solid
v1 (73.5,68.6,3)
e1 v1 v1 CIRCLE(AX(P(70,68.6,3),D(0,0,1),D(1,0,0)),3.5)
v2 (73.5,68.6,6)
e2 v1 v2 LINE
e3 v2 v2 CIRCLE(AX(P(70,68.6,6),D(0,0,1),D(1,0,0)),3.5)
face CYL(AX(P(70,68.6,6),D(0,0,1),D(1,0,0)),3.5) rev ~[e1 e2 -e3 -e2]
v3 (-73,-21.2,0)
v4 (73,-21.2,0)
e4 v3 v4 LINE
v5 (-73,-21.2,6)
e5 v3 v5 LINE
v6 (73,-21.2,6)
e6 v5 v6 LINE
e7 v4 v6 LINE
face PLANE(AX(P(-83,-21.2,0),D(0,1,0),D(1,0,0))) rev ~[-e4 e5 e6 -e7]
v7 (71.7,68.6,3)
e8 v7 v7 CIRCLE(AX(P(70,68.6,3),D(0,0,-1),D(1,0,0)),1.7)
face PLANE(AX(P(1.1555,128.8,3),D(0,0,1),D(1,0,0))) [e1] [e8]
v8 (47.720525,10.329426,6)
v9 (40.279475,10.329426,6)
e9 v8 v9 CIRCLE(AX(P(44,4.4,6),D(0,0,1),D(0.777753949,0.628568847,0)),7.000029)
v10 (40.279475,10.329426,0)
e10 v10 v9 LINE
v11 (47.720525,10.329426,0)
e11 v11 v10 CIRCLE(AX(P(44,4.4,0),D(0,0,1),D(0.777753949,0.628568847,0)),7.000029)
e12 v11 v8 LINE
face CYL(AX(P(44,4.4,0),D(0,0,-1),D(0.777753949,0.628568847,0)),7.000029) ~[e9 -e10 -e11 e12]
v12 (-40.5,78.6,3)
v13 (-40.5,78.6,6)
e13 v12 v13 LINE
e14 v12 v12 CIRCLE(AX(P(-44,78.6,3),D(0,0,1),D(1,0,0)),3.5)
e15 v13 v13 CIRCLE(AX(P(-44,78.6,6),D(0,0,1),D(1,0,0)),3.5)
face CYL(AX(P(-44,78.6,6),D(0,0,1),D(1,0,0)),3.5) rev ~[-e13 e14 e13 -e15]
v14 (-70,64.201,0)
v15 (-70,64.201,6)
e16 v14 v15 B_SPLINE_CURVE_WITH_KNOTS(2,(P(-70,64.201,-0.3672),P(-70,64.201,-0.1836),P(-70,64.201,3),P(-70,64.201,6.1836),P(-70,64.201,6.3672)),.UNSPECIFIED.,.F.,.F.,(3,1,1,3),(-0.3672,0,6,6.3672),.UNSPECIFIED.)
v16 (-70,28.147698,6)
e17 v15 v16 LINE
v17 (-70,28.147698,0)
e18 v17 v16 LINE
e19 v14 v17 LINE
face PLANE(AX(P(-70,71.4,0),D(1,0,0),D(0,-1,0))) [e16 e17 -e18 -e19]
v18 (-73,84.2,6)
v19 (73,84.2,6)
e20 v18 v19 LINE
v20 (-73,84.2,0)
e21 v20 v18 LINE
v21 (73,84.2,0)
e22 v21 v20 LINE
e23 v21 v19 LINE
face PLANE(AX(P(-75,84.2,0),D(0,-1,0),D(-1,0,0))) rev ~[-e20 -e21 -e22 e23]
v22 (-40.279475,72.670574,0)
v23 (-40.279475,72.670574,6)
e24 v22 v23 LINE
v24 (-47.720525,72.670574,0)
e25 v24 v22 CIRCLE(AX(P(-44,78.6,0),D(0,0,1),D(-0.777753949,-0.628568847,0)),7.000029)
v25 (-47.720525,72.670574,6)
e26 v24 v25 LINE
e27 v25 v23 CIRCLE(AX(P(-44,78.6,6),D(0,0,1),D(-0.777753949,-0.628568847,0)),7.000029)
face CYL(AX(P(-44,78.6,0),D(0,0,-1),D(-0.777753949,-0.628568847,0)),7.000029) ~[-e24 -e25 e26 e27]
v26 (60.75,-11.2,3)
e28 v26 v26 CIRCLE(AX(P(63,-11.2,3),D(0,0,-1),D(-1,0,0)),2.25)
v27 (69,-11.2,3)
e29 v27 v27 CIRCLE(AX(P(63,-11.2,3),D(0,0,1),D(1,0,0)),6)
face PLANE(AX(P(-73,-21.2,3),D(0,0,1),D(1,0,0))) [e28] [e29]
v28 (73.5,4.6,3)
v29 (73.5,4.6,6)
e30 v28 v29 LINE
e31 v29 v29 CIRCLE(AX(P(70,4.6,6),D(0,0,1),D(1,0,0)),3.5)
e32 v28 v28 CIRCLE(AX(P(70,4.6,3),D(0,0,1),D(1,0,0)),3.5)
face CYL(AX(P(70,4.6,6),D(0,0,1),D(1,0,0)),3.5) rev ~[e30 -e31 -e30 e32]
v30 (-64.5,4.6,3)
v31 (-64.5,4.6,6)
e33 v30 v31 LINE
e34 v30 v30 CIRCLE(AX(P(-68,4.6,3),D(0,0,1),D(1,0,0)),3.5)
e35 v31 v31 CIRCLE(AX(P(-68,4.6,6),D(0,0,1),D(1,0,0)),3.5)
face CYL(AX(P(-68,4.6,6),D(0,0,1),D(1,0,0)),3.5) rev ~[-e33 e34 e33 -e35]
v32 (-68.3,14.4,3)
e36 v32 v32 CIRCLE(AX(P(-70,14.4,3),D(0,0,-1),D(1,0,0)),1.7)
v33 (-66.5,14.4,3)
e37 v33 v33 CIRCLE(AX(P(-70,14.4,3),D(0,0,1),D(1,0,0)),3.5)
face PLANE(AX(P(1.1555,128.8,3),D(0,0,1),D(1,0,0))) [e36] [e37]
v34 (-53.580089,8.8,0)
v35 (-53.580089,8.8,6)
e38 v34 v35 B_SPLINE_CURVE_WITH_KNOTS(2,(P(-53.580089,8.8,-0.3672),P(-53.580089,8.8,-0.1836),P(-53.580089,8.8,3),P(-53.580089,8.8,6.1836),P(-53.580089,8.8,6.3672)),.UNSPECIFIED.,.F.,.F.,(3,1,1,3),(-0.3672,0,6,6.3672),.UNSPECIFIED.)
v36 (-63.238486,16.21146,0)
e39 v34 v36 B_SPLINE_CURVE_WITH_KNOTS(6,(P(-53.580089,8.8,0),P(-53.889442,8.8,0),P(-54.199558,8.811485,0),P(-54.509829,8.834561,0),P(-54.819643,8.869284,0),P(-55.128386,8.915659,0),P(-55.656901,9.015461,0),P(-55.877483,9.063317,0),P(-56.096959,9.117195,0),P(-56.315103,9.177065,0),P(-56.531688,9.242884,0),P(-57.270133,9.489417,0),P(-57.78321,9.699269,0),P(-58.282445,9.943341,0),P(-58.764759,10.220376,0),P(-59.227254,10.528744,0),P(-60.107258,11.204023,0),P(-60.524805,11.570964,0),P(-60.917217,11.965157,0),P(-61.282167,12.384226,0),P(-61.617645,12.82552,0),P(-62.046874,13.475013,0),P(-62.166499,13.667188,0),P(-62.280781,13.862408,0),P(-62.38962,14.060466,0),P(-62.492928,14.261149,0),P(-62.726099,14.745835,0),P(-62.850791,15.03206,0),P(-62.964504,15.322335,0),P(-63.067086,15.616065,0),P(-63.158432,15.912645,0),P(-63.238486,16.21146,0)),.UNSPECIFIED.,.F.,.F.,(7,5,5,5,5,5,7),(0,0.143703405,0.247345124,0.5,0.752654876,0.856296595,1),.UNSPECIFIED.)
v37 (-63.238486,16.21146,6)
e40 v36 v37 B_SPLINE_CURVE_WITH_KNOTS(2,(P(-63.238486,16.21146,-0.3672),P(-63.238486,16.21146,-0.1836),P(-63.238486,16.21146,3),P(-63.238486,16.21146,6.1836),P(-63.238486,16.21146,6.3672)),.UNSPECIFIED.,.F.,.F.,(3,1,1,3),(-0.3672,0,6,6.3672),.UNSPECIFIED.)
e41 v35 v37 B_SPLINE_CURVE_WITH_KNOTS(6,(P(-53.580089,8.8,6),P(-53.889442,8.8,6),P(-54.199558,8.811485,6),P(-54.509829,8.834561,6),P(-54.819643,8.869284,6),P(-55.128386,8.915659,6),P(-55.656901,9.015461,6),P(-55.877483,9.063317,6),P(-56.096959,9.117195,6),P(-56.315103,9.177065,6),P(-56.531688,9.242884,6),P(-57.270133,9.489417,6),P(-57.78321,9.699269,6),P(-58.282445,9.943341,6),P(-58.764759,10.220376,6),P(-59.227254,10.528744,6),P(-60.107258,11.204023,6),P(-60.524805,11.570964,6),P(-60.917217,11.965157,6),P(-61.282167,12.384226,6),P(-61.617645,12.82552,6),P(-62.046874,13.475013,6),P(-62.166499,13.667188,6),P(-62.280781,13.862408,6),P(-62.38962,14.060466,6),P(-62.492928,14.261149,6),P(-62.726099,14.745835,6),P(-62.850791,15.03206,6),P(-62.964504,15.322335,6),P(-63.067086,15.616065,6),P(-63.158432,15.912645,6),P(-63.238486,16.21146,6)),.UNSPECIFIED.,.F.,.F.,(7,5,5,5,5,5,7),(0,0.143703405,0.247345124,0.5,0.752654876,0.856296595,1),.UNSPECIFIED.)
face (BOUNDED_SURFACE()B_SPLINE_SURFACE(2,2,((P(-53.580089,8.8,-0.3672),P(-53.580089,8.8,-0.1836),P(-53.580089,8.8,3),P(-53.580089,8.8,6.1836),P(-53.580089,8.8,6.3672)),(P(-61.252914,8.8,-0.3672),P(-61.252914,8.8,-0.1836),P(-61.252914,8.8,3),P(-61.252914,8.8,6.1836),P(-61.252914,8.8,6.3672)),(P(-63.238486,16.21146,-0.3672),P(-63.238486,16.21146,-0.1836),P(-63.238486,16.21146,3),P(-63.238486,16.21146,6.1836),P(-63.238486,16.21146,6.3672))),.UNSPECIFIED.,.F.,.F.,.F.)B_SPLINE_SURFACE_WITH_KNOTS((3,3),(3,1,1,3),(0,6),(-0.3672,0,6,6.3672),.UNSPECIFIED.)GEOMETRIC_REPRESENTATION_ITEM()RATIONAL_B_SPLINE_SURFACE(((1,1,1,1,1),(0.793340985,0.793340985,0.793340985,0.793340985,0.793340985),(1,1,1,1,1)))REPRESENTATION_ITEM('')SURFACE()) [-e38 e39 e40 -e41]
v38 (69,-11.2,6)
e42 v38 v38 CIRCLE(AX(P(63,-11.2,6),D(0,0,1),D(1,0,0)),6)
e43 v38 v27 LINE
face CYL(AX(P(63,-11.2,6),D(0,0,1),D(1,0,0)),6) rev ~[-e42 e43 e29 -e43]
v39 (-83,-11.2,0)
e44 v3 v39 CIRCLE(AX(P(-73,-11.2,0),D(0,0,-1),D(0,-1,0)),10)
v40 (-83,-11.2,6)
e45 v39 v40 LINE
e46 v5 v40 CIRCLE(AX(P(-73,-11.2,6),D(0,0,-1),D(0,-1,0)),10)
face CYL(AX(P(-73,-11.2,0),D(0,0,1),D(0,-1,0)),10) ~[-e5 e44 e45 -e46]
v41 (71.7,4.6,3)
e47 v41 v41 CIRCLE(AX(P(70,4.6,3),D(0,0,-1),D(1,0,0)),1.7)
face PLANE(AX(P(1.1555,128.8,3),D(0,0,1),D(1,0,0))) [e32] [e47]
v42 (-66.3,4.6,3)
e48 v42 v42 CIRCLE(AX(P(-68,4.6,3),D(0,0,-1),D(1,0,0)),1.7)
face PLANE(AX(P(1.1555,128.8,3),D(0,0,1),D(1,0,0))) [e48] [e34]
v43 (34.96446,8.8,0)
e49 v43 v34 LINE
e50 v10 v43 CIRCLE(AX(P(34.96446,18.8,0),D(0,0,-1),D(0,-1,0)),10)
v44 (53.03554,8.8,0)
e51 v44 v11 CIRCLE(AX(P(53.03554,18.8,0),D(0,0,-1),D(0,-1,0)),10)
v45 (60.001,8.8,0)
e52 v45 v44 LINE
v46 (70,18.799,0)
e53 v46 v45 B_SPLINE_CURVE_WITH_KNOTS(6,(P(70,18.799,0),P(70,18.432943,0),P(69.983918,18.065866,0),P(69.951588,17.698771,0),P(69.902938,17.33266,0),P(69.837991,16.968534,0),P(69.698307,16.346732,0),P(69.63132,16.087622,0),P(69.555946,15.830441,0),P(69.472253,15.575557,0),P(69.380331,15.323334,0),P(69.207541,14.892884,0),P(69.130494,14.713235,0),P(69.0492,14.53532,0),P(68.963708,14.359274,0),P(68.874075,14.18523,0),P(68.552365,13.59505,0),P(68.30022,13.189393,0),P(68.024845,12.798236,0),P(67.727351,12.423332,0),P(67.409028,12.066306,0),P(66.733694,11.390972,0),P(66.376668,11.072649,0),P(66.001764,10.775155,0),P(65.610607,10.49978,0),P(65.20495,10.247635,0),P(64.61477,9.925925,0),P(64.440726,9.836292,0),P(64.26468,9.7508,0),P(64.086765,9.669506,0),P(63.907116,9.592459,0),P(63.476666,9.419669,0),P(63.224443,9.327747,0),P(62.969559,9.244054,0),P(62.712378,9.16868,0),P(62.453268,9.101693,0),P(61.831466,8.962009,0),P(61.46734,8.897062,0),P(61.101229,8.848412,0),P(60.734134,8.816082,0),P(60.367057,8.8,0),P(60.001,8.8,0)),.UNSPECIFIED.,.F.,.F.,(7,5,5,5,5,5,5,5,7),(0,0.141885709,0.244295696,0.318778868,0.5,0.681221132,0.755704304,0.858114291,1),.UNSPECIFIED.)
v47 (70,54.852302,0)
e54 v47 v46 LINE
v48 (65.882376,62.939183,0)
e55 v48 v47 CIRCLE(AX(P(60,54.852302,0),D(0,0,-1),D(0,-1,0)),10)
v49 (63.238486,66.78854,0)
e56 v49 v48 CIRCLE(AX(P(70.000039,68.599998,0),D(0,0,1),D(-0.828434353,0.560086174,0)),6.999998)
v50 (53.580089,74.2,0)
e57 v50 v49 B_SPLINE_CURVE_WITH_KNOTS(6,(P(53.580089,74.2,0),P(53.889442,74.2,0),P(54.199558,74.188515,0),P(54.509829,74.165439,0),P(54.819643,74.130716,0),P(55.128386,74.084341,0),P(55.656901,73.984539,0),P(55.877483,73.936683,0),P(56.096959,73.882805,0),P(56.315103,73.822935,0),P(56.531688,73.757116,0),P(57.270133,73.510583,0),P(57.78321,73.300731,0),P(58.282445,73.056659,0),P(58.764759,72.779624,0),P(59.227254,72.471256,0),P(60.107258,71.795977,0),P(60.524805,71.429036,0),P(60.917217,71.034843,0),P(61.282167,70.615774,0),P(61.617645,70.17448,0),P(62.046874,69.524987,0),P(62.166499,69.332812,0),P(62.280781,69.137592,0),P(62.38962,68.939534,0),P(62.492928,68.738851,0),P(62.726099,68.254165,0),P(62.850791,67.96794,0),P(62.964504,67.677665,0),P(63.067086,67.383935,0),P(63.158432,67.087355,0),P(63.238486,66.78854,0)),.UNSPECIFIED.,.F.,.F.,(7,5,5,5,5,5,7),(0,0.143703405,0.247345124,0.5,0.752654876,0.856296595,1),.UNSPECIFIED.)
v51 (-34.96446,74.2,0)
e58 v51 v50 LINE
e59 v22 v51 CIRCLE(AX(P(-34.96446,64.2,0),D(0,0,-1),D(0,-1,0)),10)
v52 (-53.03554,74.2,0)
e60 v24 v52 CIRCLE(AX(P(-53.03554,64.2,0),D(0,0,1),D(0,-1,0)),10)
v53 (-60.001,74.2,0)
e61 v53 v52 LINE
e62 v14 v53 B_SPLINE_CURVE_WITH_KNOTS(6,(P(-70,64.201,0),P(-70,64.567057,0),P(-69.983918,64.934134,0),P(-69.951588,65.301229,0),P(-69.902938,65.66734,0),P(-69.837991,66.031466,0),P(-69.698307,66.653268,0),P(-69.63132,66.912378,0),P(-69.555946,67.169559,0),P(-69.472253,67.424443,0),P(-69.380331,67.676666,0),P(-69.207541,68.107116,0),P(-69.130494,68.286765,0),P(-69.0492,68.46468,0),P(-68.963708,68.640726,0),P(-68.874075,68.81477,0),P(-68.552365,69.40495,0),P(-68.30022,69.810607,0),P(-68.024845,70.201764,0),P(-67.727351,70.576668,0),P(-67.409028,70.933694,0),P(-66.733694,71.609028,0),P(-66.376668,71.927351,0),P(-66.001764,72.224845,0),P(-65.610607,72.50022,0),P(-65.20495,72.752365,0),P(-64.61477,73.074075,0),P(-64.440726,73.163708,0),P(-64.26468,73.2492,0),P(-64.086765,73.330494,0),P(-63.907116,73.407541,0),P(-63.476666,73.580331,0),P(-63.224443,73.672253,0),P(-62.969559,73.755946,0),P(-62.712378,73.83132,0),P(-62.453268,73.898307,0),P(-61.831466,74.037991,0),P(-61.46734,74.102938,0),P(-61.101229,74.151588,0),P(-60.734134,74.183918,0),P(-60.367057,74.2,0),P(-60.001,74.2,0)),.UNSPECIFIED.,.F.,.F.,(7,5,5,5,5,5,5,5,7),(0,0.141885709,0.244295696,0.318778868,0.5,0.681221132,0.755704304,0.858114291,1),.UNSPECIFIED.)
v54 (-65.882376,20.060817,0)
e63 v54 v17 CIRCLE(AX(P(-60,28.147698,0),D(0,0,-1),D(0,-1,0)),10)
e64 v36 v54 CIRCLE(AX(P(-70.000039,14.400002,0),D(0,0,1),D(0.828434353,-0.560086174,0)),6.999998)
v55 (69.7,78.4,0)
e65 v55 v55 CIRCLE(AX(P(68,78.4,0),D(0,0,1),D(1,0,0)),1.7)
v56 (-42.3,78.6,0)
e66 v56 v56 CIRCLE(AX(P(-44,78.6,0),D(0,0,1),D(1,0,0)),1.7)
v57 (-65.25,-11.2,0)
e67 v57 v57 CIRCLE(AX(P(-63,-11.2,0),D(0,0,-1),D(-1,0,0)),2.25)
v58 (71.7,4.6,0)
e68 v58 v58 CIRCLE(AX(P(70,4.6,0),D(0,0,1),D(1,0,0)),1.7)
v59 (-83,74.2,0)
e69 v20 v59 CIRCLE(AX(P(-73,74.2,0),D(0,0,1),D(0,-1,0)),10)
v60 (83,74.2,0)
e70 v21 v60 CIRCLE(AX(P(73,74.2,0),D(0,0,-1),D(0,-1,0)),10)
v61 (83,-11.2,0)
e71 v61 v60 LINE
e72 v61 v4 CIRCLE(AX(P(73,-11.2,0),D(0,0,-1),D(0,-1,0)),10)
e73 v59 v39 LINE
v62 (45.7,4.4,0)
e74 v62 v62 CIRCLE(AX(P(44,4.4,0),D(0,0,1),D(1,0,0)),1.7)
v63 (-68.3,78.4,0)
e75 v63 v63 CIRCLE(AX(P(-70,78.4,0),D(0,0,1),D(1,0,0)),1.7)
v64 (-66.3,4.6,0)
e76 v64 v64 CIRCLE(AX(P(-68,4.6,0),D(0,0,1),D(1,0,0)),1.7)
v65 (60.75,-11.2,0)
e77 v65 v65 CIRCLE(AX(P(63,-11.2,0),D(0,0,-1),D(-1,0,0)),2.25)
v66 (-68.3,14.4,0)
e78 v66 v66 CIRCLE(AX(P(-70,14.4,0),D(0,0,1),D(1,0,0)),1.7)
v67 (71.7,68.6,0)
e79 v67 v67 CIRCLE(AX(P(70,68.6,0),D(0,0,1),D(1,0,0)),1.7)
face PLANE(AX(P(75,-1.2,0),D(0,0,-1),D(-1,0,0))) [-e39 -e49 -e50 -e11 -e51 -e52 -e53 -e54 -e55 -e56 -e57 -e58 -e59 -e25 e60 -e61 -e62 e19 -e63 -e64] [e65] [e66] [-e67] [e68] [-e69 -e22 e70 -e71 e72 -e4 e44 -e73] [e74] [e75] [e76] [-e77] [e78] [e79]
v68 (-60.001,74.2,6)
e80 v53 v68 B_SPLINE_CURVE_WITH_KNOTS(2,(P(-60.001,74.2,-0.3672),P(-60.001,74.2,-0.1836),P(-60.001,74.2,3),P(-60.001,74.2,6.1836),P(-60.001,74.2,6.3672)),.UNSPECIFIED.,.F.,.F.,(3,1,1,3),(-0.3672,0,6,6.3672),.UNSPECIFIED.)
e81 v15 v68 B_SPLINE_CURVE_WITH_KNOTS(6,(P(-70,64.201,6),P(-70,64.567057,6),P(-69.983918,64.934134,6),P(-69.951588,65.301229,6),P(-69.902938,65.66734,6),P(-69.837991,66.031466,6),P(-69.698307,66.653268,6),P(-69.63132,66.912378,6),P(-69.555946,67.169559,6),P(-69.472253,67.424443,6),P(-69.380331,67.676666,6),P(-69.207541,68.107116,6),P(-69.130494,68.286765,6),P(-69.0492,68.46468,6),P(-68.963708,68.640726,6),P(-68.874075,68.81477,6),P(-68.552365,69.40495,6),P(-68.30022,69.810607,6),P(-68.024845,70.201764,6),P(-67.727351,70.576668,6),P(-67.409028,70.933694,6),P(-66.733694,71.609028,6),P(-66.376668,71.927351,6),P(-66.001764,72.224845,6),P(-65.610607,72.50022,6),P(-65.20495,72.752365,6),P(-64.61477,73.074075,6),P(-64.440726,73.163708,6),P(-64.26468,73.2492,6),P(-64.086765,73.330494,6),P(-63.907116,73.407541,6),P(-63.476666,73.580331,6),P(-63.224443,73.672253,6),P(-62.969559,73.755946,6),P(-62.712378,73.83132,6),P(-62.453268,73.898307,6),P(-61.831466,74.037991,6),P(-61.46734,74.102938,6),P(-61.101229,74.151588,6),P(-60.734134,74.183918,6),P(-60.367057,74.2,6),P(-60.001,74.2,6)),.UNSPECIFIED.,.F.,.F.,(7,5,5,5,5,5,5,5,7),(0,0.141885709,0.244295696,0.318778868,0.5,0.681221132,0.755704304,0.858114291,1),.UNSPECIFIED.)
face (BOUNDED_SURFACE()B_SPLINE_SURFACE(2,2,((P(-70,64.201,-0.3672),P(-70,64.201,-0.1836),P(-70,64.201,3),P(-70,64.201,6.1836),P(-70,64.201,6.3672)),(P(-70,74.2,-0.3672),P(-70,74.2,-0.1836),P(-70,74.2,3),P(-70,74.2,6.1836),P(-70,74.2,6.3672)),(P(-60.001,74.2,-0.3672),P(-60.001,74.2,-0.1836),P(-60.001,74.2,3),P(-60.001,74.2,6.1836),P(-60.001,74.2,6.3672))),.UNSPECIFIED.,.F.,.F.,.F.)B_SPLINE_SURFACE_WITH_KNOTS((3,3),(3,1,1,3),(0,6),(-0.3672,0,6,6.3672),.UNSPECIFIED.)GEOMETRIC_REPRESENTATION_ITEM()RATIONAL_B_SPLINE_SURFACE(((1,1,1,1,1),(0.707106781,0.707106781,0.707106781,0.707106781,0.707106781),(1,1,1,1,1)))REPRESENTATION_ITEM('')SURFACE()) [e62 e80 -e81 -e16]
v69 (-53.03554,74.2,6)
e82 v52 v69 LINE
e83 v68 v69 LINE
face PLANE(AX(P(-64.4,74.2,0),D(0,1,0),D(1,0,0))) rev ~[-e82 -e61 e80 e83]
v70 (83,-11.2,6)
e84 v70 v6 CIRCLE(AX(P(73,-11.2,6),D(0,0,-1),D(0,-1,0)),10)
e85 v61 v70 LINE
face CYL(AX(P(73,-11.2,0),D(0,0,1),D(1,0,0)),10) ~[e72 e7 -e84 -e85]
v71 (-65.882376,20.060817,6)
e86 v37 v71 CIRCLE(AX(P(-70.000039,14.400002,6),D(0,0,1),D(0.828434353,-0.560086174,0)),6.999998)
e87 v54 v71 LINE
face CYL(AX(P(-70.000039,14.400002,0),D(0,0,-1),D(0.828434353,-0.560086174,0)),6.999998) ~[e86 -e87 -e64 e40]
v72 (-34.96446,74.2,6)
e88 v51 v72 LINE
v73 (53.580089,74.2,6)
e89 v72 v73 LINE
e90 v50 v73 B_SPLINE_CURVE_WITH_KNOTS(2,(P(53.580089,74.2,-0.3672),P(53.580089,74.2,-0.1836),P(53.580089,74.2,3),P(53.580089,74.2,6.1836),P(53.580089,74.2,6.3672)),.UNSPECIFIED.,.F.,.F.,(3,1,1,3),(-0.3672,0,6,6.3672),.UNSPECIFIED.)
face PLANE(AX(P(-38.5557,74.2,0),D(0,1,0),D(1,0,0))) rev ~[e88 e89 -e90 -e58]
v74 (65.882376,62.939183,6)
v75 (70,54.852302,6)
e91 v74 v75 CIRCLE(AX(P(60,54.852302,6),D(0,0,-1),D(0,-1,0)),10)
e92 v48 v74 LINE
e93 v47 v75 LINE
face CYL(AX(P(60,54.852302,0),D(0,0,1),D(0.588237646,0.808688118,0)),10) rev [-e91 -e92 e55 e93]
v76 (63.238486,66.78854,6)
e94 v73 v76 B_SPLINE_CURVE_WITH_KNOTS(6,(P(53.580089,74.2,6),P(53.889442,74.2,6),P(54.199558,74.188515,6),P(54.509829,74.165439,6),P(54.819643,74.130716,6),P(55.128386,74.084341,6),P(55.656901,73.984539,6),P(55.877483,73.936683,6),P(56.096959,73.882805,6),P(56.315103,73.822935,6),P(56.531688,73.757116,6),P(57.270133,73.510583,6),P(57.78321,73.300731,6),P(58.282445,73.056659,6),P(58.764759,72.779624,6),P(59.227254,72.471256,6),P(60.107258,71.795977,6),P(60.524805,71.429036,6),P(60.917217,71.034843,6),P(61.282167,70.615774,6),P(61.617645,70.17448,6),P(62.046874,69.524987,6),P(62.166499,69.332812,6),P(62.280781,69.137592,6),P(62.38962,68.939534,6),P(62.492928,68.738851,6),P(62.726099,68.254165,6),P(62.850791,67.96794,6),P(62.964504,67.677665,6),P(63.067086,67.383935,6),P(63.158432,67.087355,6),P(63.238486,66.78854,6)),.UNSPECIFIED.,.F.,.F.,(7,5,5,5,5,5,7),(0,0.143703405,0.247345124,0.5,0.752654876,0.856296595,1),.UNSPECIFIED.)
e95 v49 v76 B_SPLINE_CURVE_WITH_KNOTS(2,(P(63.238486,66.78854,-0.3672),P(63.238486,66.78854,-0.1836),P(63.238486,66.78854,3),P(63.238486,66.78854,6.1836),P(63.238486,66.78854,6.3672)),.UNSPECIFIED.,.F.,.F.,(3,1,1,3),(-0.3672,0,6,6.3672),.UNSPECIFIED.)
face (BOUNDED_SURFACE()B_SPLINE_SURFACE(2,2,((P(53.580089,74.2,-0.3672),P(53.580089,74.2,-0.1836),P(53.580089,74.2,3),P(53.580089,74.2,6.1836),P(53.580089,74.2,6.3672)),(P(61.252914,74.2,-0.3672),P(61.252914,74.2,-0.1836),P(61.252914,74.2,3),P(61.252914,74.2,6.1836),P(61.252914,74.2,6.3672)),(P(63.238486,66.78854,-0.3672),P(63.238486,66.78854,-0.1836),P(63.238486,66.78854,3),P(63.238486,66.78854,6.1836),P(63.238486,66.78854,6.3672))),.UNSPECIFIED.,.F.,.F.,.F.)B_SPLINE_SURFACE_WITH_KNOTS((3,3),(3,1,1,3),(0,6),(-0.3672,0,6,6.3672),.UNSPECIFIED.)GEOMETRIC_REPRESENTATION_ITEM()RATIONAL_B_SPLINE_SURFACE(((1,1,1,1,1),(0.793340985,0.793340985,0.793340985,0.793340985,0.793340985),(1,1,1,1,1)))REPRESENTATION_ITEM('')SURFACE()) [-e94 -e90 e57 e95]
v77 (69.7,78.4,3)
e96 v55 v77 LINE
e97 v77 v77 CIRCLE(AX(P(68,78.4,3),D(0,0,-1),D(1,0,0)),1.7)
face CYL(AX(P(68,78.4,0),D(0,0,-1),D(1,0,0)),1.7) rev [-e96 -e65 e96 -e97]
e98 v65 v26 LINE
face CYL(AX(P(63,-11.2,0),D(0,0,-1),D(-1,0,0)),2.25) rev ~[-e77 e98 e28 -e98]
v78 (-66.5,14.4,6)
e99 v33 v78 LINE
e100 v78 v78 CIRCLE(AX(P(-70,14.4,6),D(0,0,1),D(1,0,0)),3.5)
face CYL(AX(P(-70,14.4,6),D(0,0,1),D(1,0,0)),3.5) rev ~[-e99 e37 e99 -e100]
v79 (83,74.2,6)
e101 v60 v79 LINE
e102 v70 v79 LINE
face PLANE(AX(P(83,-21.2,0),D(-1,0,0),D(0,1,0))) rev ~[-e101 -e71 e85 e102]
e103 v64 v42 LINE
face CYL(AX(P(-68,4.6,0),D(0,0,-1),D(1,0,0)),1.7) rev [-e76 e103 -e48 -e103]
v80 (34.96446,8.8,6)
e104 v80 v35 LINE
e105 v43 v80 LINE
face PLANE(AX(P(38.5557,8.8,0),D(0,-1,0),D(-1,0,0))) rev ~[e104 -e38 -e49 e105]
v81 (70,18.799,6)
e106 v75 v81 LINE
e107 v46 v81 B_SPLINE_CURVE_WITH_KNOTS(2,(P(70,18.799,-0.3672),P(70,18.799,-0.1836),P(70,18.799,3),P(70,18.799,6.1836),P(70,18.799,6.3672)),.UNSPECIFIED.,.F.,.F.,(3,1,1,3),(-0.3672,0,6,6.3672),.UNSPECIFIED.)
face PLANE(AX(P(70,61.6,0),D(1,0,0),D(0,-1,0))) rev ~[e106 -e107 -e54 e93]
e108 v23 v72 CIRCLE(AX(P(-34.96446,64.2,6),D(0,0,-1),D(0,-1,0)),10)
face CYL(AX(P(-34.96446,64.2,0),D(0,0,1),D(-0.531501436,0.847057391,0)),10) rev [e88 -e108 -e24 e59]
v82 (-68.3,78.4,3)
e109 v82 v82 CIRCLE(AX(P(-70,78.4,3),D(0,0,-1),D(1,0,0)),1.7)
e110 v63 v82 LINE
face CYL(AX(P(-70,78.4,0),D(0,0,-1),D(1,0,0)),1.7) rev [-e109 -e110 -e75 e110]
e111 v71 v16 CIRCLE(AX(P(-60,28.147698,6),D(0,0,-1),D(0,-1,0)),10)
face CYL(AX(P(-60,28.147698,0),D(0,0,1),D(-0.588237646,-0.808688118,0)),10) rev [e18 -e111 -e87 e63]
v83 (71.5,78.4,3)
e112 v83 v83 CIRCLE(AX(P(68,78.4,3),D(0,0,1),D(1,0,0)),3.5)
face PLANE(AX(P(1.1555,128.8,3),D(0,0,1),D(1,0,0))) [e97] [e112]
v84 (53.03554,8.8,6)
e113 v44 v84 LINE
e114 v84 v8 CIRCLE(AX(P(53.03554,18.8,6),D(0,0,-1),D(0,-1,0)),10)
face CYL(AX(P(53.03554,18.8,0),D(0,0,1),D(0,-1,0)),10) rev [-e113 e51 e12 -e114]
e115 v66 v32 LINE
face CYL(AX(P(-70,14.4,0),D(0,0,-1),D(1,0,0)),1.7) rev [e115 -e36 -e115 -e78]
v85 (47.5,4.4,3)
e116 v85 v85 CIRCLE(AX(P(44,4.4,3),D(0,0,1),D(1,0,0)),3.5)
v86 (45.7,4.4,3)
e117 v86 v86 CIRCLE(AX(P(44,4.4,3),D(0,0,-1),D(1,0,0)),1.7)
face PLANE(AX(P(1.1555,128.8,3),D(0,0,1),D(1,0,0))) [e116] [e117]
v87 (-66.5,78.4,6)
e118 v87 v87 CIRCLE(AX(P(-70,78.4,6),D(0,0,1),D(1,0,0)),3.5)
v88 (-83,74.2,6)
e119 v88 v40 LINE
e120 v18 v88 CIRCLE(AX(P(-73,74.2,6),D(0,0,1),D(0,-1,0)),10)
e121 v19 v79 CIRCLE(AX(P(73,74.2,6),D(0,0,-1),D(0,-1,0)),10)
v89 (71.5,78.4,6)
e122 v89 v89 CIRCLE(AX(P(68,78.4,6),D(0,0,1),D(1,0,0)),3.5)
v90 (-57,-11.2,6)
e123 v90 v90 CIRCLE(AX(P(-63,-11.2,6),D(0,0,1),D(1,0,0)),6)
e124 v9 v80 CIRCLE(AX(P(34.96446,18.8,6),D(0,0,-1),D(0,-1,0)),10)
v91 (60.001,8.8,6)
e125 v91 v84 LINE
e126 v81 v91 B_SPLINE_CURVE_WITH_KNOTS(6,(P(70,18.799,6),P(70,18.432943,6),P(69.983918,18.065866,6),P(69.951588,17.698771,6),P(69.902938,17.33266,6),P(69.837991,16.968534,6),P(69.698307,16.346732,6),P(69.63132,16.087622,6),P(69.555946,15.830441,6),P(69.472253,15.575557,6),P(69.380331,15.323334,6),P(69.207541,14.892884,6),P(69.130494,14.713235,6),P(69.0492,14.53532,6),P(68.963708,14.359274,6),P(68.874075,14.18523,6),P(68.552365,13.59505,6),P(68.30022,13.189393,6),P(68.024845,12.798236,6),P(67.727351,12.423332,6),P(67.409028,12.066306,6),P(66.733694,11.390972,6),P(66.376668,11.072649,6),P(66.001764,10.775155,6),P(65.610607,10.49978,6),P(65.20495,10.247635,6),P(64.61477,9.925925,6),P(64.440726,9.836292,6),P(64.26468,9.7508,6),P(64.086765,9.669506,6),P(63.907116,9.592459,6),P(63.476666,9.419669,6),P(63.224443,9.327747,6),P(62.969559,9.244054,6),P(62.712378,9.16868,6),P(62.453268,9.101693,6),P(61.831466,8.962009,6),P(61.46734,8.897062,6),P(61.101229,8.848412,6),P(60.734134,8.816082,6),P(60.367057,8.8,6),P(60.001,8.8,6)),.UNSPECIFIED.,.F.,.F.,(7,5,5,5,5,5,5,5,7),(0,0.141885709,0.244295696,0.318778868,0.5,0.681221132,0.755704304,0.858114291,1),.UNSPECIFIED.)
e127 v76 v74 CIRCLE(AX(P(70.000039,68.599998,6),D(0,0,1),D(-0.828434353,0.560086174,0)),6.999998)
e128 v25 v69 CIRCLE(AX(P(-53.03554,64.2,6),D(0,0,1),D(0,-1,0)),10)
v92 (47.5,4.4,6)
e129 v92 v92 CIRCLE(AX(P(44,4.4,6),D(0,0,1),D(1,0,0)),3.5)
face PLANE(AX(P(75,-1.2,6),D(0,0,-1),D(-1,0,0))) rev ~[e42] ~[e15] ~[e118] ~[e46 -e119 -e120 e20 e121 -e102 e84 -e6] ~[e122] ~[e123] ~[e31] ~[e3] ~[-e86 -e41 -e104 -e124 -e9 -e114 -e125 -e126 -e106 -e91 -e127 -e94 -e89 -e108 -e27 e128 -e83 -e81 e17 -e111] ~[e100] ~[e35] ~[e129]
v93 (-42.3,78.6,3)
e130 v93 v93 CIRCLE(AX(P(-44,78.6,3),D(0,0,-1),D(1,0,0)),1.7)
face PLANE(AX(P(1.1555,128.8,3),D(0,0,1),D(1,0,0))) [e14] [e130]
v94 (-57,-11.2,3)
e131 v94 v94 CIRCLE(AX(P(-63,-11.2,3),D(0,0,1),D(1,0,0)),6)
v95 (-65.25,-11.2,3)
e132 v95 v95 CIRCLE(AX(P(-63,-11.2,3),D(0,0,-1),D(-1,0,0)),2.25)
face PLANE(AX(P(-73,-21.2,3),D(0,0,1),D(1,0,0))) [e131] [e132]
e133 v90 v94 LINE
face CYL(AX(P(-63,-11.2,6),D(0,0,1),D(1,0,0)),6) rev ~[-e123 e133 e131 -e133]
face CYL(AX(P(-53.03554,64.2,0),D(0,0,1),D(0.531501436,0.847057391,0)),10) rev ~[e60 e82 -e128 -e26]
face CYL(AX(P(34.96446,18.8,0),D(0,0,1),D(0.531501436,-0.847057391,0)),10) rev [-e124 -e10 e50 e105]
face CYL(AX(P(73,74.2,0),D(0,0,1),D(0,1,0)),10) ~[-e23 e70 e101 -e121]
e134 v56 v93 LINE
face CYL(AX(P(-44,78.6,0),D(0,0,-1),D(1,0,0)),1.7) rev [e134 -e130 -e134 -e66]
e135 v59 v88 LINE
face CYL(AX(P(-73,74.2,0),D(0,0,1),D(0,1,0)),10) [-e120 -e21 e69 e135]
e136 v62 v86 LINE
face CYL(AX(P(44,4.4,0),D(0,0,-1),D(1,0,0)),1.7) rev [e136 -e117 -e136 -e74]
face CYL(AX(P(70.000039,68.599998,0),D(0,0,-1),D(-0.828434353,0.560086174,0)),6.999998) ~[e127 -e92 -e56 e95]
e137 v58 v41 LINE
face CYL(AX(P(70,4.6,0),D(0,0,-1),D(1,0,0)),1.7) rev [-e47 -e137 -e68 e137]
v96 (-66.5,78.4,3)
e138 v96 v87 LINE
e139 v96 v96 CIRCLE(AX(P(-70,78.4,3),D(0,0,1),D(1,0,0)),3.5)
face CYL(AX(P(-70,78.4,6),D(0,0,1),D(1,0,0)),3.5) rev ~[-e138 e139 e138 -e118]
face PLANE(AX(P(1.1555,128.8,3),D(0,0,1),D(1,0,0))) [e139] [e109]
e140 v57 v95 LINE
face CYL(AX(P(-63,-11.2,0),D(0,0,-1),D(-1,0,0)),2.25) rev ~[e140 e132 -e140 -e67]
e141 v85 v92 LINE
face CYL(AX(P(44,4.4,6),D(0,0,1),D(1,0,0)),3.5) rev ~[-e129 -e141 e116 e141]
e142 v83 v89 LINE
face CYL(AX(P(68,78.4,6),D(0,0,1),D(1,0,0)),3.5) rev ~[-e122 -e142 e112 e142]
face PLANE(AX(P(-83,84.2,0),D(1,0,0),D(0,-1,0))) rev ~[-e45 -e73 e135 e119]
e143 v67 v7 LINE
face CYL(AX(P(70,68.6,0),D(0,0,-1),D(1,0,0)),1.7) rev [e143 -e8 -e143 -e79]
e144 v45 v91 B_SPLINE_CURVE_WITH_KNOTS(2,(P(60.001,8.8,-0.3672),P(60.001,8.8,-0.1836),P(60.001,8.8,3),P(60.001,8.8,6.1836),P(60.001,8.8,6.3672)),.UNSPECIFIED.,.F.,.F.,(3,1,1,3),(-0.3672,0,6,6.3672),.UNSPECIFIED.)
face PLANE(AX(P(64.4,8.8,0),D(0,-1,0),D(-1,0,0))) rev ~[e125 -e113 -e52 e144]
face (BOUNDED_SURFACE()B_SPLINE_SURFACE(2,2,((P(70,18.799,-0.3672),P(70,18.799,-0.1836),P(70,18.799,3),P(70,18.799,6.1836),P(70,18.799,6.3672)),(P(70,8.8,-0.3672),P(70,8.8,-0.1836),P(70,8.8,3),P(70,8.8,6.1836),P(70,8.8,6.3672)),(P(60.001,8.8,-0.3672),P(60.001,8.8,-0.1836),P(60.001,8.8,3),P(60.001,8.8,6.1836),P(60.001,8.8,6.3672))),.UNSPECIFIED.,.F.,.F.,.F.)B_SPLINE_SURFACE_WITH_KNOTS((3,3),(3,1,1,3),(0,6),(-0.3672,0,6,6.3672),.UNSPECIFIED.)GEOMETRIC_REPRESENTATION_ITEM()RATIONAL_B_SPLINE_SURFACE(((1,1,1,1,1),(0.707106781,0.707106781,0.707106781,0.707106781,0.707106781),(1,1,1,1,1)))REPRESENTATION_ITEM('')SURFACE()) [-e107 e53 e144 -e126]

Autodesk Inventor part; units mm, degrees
ref_plane "YZ Plane" through (0, 0, 0) normal (1, 0, 0) x (0, 1, 0)
ref_plane "XZ Plane" through (0, 0, 0) normal (0, 1, 0) x (-1, 0, 0)
ref_plane "XY Plane" through (0, 0, 0) normal (0, 0, 1) x (1, 0, 0)
sketch "スケッチ1" plane through (0, 0, 0) normal (0, 0, 1) x (1, 0, 0)
  circle A0 centre (44, 4.4) radius 1.25 construction
  circle A1 centre (68, 78.4) radius 1.25 construction
  circle A2 centre (-70, 78.4) radius 1.25 construction
  circle A3 centre (-70, 14.4) radius 1.25 construction
  arc A4 (22.159, 26.4069) -> (22.159, 19.1931) centre (24.5, 22.8) ccw construction
  line L0 (22.159, 26.4069) -> (30.5, 31.8205) construction
  line L1 (30.5, 13.7795) -> (22.159, 19.1931) construction
  line L2 (58.5, 31.8205) -> (66.841, 26.4069) construction
  arc A5 (66.841, 19.1931) -> (66.841, 26.4069) centre (64.5, 22.8) ccw construction
  line L3 (58.5, 13.7795) -> (66.841, 19.1931) construction
  line L4 (35.3264, 11.8) -> (53.6736, 11.8) construction
  line L5 (73.8, 84.2) -> (-73.8, 84.2) construction
  line L6 (75, 83) -> (75, 9.6971) construction
  line L7 (-75, 5.3) -> (-75, 0) construction
  line L8 (75, 0) -> (75, 5.3) construction
  line L9 (-75, 84.2) -> (75, 84.2) construction
  line L10 (75, 84.2) -> (75, -1.2) construction
  line L11 (75, -1.2) -> (-75, -1.2) construction
  line L12 (-75, -1.2) -> (-75, 84.2) construction
  line L13 (-73, -1.2) -> (73, -1.2) construction
  line L14 (75, 84.2) -> (-75, -1.2) construction
  circle A6 centre (-70, 78.4) radius 1.7
  circle A7 centre (-70, 14.4) radius 1.7
  circle A8 centre (44, 4.4) radius 1.7
  circle A9 centre (68, 78.4) radius 1.7
  circle A10 centre (-70, 78.4) radius 7 construction
  circle A11 centre (-70, 14.4) radius 7 construction
  circle A12 centre (44, 4.4) radius 7 construction
  circle A13 centre (68, 78.4) radius 7 construction
  circle A14 centre (70, 4.6) radius 7 construction
  circle A15 centre (70, 4.6) radius 1.7
  circle A16 centre (70, 68.6) radius 7 construction
  circle A17 centre (70, 68.6) radius 1.7
  circle A18 centre (-44, 78.6) radius 7 construction
  circle A19 centre (-44, 78.6) radius 1.7
  circle A20 centre (-68, 4.6) radius 7 construction
  circle A21 centre (-68, 4.6) radius 1.7
  line L15 (-70, 74.2) -> (70, 74.2) construction
  line L16 (70, 74.2) -> (70, 8.8) construction
  line L17 (70, 8.8) -> (-70, 8.8) construction
  line L18 (-70, 8.8) -> (-70, 74.2) construction
  line L19 (90, 128.8) -> (-75, 128.8)
  line L20 (-75, 128.8) -> (-75, -1.2)
  line L21 (-75, -1.2) -> (90, -1.2)
  line L22 (90, -1.2) -> (90, 128.8)
  line L23 (-70, 71.4) -> (-70, 21.4)
  line L24 (-64.4, 74.2) -> (-49.4443, 74.2)
  line L25 (-38.5557, 74.2) -> (62.4, 74.2)
  line L26 (70, 61.6) -> (70, 11.6)
  line L27 (64.4, 8.8) -> (49.4443, 8.8)
  line L28 (38.5557, 8.8) -> (-62.4, 8.8)
  arc A22 (-64.201, 10.4794) -> (-70, 21.4) centre (-70, 14.4) ccw
  arc A23 (-62.4, 8.8) -> (-64.201, 10.4794) centre (-68, 4.6) ccw
  arc A24 (-70, 71.4) -> (-64.4, 74.2) centre (-70, 78.4) ccw
  arc A25 (-49.4443, 74.2) -> (-38.5557, 74.2) centre (-44, 78.6) ccw
  arc A26 (62.4, 74.2) -> (64.201, 72.5206) centre (68, 78.4) ccw
  arc A27 (64.201, 72.5206) -> (70, 61.6) centre (70, 68.6) ccw
  arc A28 (70, 11.6) -> (64.4, 8.8) centre (70, 4.6) ccw
  arc A29 (49.4443, 8.8) -> (38.5557, 8.8) centre (44, 4.4) ccw
  line L29 (-75, 84.2) -> (75, 84.2)
  line L30 (75, 84.2) -> (75, -1.2)
  point P0 (0, 0)
  point P1 (0, 41.5)
  point P2 (90, -1.2)
  point P3 (75, -1.2)
  dimension "d0" = 3.4
  dimension "d1" = 14
  dimension "d4" = 360
  dimension "d6" = 5
  dimension "d7" = 5
  dimension "d8" = 10
  dimension "d9" = 10
  dimension "d10" = 0
extrude "押し出し1" add sketch "スケッチ1" along normal blind 6 from surface at 0 contours L29 L30 L21 L20
ref_plane "作業平面3" through (1.1555, 128.8, 6) normal (0, 0, 1) x (1, 0, 0)
sketch "スケッチ6" plane through (1.1555, 128.8, 6) normal (0, 0, 1) x (1, 0, 0)
  circle A0 centre (-69.1555, -124.2) radius 1.7 projected
  circle A1 centre (-71.1555, -114.4) radius 1.7 projected
  circle A2 centre (-71.1555, -50.4) radius 1.7 projected
  circle A3 centre (-45.1555, -50.2) radius 1.7 projected
  circle A4 centre (66.8445, -50.4) radius 1.7 projected
  circle A5 centre (68.8445, -60.2) radius 1.7 projected
  circle A6 centre (68.8445, -124.2) radius 1.7 projected
  circle A7 centre (42.8445, -124.4) radius 1.7 projected
  circle A8 centre (-71.1555, -50.4) radius 3.5
  circle A9 centre (-71.1555, -114.4) radius 3.5
  circle A10 centre (-69.1555, -124.2) radius 3.5
  circle A11 centre (-45.1555, -50.2) radius 3.5
  circle A12 centre (66.8445, -50.4) radius 3.5
  circle A13 centre (68.8445, -60.2) radius 3.5
  circle A14 centre (68.8445, -124.2) radius 3.5
  circle A15 centre (42.8445, -124.4) radius 3.5
  point P0 (-1.1555, -128.8)
  dimension "d22" = 7
extrude "押し出し5" cut sketch "スケッチ6" along normal blind 10 and the other way blind 3 contours A0 | A1 | A2 | A3 | A4 | A5 | A6 | A7 | A8 | A9 | A10 | A11 | A12 | A13 | A14 | A15
sketch "スケッチ7" plane through (75, -1.2, 0) normal (0, 0, -1) x (-1, 0, 0)
  line L0 (150, 0) -> (150, 85.4) projected
  line L1 (0, 0) -> (150, 0) projected
  line L2 (0, 85.4) -> (0, 0) projected
  line L3 (150, 85.4) -> (158, 85.4)
  line L4 (158, 85.4) -> (158, -20)
  line L5 (158, -20) -> (-8, -20)
  line L6 (-8, -20) -> (-8, 85.4)
  line L7 (-8, 85.4) -> (0, 85.4)
  line L8 (158, -10) -> (-8, -10) construction
  circle A0 centre (12, -10) radius 2.25
  circle A1 centre (138, -10) radius 2.25
  point P0 (75, 1.2)
  dimension "d29" = 20
  dimension "d30" = 8
  dimension "d31" = 10
  dimension "d32" = 4.5
  dimension "d33" = 20
  dimension "d34" = 20
extrude "押し出し6" add sketch "スケッチ7" against normal up to surface (6 mm away)
fillet "フィレット4" radius 10 14 edges at (62.4, 74.2, 3) (64.201, 72.5206, 3) (70, 61.6, 3) (70, 11.6, 3) (64.4, 8.8, 3) (49.4443, 8.8, 3) (38.5557, 8.8, 3) (-62.4, 8.8, 3) (-64.201, 10.4794, 3) (-70, 21.4, 3) (-70, 71.4, 3) (-64.4, 74.2, 3) (-38.5557, 74.2, 3) (-49.4443, 74.2, 3)
fillet "フィレット5" radius 10 4 edges at (-83, 84.2, 3) (83, 84.2, 3) (83, -21.2, 3) (-83, -21.2, 3)
sketch "スケッチ8" plane through (-73, -21.2, 6) normal (0, 0, 1) x (1, 0, 0)
  circle A0 centre (10, 10) radius 2.25 construction
  circle A1 centre (136, 10) radius 2.25 construction
  circle A2 centre (10, 10) radius 6
  circle A3 centre (136, 10) radius 6
  point P0 (73, 21.2)
  dimension "d39" = 12
extrude "押し出し7" cut sketch "スケッチ8" against normal blind 3
equation "\"d7\" = d6"
equation "\"d9\" = d8"
equation "\"d31\" = 0.5 * d29"
equation "\"d34\" = d33"
properties part number "atx_power_holder"
